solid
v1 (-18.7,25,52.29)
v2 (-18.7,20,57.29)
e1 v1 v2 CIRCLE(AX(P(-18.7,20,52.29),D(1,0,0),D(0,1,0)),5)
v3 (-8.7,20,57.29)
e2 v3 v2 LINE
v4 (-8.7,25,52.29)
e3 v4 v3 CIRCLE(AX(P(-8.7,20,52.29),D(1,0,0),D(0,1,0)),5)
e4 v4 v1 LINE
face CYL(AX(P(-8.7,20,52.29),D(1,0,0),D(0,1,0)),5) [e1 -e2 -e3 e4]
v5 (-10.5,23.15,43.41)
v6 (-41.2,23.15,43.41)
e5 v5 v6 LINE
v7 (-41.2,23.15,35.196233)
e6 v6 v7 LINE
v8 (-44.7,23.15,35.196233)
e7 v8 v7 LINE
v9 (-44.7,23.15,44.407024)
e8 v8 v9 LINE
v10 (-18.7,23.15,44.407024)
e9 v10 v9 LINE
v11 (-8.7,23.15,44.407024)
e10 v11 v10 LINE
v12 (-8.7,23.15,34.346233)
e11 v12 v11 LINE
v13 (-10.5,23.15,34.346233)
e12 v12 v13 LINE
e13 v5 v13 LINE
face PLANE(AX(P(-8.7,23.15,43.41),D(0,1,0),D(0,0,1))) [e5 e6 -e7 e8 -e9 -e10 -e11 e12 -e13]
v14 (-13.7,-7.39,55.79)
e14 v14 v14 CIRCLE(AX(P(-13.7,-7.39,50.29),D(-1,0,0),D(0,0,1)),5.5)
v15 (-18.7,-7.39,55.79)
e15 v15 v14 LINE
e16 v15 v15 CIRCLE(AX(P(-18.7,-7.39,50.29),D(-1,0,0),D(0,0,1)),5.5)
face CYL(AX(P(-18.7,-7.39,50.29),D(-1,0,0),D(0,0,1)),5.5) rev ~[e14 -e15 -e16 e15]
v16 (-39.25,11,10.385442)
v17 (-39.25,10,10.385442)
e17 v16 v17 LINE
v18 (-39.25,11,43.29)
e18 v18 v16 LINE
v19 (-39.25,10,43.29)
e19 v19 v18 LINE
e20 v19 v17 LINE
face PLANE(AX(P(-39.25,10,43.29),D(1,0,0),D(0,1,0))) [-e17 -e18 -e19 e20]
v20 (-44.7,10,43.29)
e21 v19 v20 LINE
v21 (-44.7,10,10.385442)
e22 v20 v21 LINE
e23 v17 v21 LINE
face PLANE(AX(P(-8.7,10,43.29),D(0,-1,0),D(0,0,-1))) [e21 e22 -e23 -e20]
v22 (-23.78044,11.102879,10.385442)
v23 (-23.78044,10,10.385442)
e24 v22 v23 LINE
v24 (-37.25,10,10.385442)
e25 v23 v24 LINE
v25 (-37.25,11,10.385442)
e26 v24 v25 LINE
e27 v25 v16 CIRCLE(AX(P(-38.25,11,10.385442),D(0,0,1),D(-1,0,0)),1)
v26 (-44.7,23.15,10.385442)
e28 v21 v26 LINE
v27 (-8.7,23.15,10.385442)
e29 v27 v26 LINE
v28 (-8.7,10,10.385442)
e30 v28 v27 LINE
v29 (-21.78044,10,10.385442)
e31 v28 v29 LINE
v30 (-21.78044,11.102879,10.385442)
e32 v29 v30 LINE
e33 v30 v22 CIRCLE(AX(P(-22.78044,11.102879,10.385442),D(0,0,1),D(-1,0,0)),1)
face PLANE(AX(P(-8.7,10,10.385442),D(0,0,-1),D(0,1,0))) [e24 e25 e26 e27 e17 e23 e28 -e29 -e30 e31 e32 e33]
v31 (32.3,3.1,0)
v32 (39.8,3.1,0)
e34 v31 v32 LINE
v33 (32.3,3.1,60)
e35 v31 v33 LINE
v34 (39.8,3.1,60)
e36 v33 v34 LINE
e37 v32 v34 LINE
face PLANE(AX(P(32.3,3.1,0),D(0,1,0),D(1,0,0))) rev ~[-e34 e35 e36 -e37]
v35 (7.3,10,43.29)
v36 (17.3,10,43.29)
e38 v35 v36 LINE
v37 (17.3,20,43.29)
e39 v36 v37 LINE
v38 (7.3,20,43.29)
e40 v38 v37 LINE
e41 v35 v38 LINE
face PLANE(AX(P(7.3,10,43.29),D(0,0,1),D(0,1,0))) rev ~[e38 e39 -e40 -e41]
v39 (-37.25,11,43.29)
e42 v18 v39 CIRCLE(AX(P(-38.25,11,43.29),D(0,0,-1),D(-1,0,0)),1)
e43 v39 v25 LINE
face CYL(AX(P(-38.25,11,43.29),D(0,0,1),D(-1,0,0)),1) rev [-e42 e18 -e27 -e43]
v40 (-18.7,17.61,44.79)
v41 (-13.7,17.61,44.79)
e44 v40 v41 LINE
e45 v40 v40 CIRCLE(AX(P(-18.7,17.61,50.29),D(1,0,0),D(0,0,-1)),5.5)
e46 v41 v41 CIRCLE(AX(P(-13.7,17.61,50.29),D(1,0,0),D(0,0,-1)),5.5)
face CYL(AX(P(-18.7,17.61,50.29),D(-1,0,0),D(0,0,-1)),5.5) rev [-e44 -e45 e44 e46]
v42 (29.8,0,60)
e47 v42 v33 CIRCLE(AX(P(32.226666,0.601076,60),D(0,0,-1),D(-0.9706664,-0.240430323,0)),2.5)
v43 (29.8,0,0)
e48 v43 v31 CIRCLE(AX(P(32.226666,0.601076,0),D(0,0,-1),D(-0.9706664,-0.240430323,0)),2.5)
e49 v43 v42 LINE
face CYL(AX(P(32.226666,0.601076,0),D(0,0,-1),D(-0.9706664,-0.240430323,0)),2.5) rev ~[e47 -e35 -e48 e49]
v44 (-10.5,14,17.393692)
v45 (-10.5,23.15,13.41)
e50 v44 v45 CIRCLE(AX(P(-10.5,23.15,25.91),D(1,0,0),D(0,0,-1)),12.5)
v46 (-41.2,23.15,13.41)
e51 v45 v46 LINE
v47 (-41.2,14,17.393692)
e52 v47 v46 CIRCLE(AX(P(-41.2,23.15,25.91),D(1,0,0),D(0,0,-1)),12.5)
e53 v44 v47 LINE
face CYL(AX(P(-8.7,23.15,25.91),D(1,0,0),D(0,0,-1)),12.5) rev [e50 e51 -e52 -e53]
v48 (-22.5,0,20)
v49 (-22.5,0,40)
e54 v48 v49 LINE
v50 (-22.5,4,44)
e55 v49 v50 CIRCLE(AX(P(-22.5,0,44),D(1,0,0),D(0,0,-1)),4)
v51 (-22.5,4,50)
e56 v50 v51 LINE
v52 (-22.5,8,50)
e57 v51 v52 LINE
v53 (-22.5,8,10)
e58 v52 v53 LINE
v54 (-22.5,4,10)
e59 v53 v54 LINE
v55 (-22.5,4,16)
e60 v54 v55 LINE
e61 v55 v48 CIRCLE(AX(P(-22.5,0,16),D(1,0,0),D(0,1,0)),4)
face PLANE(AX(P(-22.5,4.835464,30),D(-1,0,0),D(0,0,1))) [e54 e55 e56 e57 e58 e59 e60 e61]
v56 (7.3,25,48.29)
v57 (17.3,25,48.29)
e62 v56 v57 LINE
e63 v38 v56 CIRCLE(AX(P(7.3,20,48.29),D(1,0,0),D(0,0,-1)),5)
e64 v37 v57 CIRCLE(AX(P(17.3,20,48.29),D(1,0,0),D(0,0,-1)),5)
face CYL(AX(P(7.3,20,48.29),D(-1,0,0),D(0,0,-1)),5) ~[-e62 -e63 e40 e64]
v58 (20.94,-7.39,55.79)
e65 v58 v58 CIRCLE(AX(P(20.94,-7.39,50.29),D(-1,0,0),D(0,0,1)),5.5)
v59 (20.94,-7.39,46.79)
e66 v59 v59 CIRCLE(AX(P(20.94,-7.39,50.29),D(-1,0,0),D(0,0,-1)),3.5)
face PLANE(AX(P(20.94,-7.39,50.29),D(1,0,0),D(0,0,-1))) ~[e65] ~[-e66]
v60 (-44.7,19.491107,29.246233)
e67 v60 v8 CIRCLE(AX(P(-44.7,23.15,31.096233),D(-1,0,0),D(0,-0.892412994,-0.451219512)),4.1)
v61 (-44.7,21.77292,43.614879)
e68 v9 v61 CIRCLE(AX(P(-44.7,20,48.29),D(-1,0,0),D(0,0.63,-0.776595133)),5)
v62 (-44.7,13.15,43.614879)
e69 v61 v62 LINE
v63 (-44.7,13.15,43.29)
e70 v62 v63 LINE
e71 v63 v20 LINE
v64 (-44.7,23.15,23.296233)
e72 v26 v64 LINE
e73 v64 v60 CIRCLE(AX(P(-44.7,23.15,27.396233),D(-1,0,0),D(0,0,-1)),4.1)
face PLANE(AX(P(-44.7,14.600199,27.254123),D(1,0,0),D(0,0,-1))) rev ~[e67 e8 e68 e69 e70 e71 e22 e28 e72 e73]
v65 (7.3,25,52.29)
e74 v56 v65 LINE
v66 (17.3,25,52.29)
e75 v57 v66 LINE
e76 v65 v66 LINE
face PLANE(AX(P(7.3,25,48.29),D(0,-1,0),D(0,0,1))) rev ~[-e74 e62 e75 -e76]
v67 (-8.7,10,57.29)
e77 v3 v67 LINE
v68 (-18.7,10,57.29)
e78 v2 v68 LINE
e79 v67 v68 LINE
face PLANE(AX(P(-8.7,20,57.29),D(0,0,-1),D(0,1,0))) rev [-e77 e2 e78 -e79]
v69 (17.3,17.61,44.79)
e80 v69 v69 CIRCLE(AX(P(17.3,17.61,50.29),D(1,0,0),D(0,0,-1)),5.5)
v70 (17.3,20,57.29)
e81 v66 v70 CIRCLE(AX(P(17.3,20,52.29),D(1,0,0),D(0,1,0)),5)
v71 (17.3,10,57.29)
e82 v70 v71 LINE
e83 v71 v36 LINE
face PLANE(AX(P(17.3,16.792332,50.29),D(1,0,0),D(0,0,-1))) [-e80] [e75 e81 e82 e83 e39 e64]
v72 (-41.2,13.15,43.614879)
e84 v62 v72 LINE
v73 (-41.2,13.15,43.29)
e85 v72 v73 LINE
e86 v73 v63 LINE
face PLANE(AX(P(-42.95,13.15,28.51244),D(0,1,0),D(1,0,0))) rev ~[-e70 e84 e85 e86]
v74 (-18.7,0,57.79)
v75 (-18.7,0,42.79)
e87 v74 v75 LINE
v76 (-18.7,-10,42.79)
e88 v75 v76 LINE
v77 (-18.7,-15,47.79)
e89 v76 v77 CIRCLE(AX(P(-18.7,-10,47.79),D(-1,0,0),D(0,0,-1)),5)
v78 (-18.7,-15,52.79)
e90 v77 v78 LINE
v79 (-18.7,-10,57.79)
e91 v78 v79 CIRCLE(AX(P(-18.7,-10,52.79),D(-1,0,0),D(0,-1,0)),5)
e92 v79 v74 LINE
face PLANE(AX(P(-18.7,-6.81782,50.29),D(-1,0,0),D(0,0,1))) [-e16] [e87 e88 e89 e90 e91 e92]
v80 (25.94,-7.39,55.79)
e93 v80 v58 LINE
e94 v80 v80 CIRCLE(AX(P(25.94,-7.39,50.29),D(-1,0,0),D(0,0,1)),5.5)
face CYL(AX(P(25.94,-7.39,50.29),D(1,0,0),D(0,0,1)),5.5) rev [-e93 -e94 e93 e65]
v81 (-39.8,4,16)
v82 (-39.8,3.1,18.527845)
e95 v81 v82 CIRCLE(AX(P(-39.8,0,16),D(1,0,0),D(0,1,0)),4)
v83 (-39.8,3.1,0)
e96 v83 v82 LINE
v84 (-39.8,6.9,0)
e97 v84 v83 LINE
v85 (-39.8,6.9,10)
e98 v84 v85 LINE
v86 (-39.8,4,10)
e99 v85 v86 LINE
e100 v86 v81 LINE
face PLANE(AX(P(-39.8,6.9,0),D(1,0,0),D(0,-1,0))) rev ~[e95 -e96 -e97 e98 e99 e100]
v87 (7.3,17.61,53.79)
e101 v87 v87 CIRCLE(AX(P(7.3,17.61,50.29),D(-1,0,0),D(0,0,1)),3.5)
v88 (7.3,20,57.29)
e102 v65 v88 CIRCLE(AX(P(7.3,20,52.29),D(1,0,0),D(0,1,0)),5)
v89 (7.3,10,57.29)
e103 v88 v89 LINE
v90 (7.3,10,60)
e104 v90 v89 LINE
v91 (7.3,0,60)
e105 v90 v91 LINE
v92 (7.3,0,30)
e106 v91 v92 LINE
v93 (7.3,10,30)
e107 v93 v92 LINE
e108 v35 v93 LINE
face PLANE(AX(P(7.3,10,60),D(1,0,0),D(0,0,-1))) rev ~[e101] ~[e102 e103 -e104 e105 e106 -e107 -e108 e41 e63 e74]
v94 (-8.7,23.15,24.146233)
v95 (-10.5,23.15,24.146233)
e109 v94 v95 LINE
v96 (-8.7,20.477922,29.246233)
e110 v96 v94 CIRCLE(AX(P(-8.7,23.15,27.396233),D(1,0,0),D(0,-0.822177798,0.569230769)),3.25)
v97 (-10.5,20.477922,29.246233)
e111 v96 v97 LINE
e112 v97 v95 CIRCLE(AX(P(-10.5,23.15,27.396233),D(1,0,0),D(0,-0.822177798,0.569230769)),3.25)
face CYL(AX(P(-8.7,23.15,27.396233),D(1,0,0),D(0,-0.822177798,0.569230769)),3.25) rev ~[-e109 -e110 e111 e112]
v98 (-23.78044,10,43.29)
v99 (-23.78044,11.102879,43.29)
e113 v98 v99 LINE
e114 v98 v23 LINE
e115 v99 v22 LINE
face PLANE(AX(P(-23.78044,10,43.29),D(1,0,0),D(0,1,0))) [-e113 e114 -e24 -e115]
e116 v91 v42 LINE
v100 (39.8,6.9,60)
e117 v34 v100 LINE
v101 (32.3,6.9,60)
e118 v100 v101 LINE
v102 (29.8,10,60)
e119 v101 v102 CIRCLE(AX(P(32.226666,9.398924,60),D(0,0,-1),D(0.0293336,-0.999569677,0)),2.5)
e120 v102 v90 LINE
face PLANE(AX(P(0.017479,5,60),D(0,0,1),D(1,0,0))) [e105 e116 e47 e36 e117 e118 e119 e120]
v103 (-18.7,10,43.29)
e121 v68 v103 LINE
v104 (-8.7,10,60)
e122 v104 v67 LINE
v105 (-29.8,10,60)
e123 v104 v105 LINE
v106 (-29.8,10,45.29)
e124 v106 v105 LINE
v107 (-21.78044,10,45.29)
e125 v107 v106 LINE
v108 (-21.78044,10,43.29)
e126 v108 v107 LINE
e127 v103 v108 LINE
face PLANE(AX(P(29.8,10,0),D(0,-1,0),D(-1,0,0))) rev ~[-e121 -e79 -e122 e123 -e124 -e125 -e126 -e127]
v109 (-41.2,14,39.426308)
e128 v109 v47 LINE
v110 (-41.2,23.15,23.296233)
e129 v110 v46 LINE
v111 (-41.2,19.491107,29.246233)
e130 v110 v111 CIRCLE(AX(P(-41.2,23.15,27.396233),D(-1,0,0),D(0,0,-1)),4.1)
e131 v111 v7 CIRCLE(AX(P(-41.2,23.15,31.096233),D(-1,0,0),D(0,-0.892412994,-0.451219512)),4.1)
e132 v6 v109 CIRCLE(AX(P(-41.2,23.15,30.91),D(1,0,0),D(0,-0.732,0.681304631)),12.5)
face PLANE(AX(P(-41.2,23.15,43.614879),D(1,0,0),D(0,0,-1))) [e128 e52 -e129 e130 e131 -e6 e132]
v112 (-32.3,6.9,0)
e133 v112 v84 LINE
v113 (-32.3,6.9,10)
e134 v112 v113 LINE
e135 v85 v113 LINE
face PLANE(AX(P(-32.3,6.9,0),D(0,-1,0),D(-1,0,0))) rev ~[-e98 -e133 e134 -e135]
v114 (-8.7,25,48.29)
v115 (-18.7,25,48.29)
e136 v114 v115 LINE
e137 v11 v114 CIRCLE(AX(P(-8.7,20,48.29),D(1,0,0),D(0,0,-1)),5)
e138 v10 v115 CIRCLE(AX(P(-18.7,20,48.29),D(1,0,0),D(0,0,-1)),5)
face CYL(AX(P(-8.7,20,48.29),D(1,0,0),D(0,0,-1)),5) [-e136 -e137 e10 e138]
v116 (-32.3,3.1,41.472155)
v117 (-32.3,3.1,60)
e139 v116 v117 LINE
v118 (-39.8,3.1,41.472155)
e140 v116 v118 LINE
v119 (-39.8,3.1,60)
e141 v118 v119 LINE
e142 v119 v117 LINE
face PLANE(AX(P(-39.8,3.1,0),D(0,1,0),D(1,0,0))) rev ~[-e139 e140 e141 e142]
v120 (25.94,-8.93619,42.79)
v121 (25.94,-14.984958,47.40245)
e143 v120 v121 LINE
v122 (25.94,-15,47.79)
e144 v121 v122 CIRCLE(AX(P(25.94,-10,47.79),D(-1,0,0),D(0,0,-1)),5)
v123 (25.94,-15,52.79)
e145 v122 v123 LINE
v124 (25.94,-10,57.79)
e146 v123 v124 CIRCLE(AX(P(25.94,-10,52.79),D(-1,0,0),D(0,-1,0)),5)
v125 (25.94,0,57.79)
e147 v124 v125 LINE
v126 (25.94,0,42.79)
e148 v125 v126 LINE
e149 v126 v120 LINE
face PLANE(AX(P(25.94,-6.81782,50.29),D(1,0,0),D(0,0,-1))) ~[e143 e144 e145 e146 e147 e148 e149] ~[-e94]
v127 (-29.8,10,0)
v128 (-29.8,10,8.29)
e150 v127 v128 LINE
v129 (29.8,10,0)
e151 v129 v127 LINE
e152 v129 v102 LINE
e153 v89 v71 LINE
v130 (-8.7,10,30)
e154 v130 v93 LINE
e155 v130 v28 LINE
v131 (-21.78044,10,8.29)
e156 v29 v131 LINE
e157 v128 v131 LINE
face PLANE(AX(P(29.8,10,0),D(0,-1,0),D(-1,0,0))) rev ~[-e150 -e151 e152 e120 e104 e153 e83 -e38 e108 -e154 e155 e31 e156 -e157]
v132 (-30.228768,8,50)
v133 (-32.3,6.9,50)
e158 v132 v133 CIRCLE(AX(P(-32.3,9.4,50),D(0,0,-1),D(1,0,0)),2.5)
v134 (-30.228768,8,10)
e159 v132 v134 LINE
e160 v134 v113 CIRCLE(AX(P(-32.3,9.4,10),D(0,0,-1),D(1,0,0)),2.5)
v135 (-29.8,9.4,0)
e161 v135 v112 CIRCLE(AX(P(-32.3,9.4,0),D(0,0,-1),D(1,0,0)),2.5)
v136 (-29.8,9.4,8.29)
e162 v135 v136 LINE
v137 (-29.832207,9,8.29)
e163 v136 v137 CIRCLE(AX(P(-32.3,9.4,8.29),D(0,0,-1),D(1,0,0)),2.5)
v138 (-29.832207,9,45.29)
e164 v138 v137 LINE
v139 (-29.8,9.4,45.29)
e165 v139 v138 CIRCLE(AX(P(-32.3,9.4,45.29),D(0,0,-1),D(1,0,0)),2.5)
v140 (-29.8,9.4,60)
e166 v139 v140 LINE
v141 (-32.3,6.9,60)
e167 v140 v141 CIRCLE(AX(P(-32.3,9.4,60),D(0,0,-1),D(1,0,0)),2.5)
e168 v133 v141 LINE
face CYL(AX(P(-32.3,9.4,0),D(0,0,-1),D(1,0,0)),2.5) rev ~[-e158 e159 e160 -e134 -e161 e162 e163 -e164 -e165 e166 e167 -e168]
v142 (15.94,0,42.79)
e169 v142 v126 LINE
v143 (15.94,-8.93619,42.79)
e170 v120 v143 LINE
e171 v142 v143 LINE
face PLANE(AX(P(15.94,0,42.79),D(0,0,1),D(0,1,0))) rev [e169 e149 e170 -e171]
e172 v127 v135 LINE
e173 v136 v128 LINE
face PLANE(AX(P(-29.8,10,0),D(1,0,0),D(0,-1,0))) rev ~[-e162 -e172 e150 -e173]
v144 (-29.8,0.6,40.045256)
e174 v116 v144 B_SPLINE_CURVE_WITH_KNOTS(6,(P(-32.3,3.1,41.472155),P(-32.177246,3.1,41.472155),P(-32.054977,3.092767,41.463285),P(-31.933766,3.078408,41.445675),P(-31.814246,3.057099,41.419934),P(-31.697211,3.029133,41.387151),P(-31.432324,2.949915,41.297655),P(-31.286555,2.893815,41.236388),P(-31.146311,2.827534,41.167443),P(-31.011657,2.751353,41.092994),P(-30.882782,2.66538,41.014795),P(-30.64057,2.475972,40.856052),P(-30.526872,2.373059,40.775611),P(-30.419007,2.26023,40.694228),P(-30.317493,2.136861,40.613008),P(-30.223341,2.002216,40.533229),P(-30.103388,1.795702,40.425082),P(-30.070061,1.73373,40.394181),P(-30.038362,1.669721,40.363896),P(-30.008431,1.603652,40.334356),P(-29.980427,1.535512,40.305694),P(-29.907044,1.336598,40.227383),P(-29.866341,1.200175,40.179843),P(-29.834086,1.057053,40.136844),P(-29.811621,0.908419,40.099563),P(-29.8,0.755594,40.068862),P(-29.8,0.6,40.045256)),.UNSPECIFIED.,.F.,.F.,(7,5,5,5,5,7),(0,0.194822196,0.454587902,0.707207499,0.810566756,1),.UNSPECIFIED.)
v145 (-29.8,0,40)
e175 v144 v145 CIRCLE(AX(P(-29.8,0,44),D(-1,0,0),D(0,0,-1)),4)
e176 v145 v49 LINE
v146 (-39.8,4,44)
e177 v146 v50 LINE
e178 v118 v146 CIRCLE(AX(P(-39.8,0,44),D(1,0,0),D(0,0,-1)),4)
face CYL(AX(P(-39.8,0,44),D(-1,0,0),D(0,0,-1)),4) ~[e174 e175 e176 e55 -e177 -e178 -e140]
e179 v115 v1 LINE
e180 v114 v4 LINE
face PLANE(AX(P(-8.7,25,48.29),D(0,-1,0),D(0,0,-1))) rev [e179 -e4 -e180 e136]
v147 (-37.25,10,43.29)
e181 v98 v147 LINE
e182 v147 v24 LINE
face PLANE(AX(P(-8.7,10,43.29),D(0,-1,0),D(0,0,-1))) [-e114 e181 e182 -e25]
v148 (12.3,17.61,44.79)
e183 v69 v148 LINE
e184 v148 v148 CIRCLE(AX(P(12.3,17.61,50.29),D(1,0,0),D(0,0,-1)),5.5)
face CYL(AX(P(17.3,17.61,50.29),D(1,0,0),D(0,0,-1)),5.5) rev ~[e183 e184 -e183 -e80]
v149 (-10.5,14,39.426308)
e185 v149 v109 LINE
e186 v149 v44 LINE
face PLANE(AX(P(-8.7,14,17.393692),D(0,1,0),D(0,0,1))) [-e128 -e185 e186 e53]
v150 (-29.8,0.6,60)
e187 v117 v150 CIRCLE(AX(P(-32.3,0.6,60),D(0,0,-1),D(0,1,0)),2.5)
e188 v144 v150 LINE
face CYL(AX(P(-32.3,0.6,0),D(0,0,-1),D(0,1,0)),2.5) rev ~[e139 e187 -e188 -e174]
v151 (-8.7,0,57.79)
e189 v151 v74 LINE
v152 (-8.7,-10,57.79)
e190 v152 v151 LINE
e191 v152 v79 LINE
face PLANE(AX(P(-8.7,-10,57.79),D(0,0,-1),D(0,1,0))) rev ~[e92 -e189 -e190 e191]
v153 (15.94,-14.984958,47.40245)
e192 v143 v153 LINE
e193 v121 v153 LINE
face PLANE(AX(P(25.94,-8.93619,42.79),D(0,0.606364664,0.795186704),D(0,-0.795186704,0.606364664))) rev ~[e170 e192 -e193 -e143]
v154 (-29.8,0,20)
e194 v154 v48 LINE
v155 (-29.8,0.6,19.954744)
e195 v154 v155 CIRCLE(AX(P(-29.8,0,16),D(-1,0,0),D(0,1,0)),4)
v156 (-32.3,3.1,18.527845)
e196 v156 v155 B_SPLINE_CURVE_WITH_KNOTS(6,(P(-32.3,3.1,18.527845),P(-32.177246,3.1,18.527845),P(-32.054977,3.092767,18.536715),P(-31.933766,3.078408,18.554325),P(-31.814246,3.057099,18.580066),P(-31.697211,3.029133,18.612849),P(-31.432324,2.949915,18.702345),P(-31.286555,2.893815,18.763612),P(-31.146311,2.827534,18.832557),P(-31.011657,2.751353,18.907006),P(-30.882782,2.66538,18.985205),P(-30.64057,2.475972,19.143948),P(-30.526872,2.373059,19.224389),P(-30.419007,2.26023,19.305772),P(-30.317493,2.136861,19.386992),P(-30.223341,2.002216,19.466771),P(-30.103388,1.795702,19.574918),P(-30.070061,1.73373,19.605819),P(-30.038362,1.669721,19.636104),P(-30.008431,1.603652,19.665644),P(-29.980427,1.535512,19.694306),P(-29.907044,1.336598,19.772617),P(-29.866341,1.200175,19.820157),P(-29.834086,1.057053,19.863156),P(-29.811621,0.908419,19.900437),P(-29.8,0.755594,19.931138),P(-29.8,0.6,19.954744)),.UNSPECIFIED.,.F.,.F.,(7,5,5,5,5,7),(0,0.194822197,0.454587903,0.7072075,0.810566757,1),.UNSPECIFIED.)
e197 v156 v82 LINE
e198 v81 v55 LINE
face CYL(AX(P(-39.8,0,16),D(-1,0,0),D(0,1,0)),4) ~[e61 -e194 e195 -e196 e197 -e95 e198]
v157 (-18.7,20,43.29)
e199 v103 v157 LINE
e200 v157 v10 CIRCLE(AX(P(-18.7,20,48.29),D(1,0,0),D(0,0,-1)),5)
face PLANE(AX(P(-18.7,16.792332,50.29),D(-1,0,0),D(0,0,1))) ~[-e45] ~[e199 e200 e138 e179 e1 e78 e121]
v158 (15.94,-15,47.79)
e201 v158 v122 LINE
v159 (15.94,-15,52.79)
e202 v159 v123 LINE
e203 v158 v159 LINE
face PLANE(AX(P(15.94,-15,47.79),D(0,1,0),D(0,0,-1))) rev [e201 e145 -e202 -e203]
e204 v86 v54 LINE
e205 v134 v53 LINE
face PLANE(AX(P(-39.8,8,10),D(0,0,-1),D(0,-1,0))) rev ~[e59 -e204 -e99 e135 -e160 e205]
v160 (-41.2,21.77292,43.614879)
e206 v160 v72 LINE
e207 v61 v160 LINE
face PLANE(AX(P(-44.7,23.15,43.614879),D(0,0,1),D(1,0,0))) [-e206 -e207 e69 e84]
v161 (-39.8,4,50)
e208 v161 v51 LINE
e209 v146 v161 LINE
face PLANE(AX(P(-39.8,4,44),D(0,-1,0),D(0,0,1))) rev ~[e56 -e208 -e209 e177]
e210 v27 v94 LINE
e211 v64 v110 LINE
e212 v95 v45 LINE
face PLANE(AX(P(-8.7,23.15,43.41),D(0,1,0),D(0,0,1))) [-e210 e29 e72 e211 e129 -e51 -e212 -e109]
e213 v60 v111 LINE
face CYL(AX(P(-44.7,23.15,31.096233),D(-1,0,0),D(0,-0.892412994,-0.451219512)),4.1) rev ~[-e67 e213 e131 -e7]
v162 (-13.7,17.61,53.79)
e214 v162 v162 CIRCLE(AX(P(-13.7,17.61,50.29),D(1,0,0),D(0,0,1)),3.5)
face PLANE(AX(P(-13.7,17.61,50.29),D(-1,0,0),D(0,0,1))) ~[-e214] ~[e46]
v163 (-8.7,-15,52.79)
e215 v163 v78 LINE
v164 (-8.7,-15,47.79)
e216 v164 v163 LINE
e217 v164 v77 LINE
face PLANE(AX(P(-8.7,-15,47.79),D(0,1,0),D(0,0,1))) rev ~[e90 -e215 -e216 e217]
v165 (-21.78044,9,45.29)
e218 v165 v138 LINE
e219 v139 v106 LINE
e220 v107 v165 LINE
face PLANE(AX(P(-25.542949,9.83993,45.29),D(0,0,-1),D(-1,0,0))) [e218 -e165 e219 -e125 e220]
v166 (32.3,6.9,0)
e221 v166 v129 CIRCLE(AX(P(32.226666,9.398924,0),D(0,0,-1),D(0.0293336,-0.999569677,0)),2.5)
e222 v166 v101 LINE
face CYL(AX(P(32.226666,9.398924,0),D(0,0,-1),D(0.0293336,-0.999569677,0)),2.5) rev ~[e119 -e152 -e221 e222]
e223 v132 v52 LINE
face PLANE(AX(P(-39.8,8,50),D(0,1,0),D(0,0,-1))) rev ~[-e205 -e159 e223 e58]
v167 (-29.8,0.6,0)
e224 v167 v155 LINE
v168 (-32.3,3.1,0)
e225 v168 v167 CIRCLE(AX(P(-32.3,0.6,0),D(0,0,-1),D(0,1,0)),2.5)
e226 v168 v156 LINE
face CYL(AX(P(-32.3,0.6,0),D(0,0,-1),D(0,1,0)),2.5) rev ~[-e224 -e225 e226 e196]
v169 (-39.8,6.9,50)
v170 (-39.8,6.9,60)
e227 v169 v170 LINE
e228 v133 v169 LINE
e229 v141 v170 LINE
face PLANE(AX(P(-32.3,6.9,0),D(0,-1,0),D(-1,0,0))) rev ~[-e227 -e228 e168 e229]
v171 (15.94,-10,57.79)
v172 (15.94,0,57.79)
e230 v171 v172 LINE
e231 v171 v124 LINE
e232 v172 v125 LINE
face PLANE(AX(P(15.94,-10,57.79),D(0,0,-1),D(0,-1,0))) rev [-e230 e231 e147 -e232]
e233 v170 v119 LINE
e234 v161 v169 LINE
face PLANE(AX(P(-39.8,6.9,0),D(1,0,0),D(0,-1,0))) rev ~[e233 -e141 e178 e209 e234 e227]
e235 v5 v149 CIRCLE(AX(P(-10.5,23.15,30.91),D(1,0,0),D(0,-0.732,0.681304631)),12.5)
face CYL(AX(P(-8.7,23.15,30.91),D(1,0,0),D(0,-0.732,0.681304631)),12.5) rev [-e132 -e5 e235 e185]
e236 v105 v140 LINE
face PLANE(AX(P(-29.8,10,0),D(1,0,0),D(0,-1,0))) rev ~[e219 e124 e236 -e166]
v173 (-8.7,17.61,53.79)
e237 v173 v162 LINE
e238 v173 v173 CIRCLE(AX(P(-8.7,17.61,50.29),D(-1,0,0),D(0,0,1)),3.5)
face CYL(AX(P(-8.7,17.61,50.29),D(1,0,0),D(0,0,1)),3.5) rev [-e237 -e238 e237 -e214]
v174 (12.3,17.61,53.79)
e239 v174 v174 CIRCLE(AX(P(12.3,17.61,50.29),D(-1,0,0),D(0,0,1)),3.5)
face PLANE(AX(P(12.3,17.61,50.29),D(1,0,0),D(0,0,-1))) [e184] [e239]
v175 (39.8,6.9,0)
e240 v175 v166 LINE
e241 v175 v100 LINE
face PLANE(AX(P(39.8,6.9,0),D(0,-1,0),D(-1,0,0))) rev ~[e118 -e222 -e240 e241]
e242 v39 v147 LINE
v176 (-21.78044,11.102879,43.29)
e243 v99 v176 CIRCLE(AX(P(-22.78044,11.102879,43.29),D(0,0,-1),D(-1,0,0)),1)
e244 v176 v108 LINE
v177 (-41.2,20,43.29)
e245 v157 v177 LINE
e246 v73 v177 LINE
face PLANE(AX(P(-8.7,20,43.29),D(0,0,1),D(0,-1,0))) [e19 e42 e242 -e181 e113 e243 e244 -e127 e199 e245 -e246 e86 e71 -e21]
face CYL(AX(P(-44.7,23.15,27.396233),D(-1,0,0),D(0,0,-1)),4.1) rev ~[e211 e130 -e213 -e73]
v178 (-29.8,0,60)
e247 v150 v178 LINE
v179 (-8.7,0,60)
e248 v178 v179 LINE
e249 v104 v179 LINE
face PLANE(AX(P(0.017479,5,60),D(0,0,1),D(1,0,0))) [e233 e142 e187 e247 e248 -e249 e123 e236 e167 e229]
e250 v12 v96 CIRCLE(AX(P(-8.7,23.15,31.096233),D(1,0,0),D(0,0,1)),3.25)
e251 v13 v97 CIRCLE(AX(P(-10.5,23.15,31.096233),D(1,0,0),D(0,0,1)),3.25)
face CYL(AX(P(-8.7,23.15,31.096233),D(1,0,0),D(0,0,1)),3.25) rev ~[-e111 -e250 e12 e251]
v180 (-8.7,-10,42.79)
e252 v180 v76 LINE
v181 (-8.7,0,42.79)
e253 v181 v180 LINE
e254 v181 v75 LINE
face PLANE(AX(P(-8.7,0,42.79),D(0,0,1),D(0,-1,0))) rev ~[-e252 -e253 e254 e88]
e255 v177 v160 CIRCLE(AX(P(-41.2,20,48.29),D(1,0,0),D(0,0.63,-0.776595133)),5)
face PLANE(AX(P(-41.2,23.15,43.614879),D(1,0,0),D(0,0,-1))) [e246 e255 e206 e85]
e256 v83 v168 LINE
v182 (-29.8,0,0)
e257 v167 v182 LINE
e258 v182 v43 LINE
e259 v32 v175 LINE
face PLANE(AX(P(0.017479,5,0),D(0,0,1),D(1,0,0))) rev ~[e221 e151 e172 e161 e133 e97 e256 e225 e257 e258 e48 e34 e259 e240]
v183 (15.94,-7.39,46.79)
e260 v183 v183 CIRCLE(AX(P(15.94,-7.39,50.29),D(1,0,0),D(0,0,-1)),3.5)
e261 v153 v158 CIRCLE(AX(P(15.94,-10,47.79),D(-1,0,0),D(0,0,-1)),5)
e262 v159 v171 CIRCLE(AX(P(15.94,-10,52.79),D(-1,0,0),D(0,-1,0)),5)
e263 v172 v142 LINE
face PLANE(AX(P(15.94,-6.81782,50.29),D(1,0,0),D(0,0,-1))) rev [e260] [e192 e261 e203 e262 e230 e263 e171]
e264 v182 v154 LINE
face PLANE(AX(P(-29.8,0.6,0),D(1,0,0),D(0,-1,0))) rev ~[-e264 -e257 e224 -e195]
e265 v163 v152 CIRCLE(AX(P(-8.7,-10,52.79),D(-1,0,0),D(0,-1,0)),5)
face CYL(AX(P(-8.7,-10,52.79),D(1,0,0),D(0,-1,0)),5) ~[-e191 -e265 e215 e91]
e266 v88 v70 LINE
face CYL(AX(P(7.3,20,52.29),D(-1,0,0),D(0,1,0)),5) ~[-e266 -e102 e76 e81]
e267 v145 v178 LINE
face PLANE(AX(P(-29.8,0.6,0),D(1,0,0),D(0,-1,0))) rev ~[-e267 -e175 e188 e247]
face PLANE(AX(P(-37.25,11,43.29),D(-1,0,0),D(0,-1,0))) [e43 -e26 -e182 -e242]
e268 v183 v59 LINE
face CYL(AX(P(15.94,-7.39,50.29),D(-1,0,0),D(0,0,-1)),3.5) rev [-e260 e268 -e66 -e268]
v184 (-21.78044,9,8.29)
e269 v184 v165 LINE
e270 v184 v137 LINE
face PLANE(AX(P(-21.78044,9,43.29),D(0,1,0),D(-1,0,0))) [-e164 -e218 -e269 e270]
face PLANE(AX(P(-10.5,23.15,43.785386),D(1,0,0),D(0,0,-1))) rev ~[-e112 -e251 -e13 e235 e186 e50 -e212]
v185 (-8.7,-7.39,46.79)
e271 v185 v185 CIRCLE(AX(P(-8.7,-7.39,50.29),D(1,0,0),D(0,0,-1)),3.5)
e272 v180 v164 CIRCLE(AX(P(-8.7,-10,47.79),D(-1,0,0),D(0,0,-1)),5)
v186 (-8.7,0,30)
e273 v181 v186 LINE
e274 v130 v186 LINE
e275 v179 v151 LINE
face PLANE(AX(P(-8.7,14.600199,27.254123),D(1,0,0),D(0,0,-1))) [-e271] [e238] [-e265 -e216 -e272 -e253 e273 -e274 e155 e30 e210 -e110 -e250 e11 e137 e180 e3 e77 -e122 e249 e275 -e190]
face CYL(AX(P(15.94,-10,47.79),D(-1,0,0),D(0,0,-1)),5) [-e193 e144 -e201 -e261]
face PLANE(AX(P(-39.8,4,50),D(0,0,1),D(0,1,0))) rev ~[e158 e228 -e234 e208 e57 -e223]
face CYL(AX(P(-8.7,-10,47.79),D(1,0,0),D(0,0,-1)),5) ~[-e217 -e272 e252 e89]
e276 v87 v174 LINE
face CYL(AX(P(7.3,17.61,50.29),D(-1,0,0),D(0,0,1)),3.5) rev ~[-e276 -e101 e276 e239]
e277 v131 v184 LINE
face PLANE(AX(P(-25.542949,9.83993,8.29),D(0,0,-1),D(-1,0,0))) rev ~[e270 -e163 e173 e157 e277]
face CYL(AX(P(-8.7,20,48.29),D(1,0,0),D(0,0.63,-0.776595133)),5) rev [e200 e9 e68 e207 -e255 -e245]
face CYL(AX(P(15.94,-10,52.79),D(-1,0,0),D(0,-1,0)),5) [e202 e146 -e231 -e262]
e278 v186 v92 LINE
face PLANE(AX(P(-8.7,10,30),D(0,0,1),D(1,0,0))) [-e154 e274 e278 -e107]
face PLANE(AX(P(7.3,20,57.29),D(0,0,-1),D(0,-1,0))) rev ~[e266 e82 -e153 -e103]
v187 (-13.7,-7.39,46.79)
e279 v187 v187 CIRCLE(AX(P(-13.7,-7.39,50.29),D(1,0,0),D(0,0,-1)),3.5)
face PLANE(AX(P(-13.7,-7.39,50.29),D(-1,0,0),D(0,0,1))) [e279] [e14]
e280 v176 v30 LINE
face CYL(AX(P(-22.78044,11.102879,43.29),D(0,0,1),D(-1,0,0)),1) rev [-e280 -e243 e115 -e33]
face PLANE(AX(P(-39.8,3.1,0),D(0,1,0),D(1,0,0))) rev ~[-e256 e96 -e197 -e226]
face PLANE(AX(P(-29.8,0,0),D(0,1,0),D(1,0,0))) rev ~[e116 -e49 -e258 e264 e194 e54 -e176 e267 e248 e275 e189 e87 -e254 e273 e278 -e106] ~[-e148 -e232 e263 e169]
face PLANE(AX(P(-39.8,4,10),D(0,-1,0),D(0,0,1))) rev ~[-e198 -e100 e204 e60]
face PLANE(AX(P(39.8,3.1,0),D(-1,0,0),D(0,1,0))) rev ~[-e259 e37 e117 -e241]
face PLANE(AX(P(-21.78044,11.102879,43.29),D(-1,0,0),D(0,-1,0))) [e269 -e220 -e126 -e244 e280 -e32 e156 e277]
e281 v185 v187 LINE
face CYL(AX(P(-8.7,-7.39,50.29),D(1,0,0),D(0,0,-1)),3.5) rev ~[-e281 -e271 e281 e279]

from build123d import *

# Parameters (mm, degrees)
EXTRUDE_1_DEPTH          = 60
CUT_EXTRUDE_1_DEPTH      = 17.3
SKETCH1_W                = 16
SKETCH1_H                = 30
CUT_EXTRUDE1_DEPTH       = 10
SKETCH2_R                = 3.5
BOSS_EXTRUDE1_DEPTH      = 10
SKETCH4_R                = 5.5
CUT_EXTRUDE4_DEPTH       = 5
SKETCH5_R                = 3.5
BOSS_EXTRUDE2_DEPTH      = 10
SKETCH6_R                = 5.5
CUT_EXTRUDE5_DEPTH       = 5
BOSS_EXTRUDE4_DEPTH      = 36
SKETCH8_W                = 1.8
SKETCH8_H                = 30.375385669
SKETCH8_W_2              = 3.5
SKETCH8_H_2              = 30.204879213
BOSS_EXTRUDE5_DEPTH      = 10
CUT_EXTRUDE6_DEPTH       = 10
CUT_EXTRUDE7_DEPTH       = 10
CUT_EXTRUDE8_DEPTH       = 68.060525711
CUT_EXTRUDE9_DEPTH       = 10
CUT_EXTRUDE10_DEPTH      = 2
CUT_EXTRUDE10_DEPTH_BACK = 35


with BuildPart() as part:
    # 스케치1 → 보스-돌출1 (new body)
    with BuildSketch(Plane.XY):
        with BuildLine():
            Line((29.8, 10), (-29.8, 10))
            Line((-29.8, 10), (-29.8, 9.4))
            ThreePointArc((-29.8, 9.4), (-30.532233047, 7.632233047), (-32.3, 6.9))
            Line((-32.3, 6.9), (-39.8, 6.9))
            Line((-39.8, 6.9), (-39.8, 3.1))
            Line((-39.8, 3.1), (-32.3, 3.1))
            ThreePointArc((-32.3, 3.1), (-30.532233047, 2.367766953), (-29.8, 0.6))
            Line((-29.8, 0.6), (-29.8, 0))
            Line((-29.8, 0), (29.8, 0))
            ThreePointArc((29.8, 0), (30.280633401, 2.170456935), (32.3, 3.1))
            Line((32.3, 3.1), (39.8, 3.1))
            Line((39.8, 3.1), (39.8, 6.9))
            Line((39.8, 6.9), (32.3, 6.9))
            ThreePointArc((32.3, 6.9), (30.280633401, 7.829543065), (29.8, 10))
        make_face()
    extrude(amount=EXTRUDE_1_DEPTH)

    # 스케치2 → 컷-돌출1 (cut)
    with BuildSketch(Plane.ZY.offset(39.8)):
        with BuildLine():
            Line((44, 4), (50, 4))
            Line((50, 4), (50, 8))
            Line((50, 8), (10, 8))
            Line((10, 8), (10, 4))
            Line((10, 4), (16, 4))
            ThreePointArc((16, 4), (18.828427125, 2.828427125), (20, 0))
            Line((20, 0), (40, 0))
            ThreePointArc((40, 0), (41.171572875, 2.828427125), (44, 4))
        make_face()
    extrude(amount=-CUT_EXTRUDE_1_DEPTH, mode=Mode.SUBTRACT)

    # Sketch1 → Cut-Extrude1 (cut)
    with BuildSketch(Plane(origin=(0, 10, 0), x_dir=(1, 0, 0), z_dir=(0, 1, 0))):
        with Locations((-0.7, -45)):
            Rectangle(SKETCH1_W, SKETCH1_H)
    extrude(amount=-CUT_EXTRUDE1_DEPTH, mode=Mode.SUBTRACT)

    # Sketch2 → Boss-Extrude1 (add)
    with BuildSketch(Plane.ZY.offset(-7.3)):
        with BuildLine():
            Line((57.29, 10), (43.29, 10))
            Line((43.29, 10), (43.29, 20))
            ThreePointArc((43.29, 20), (44.754466094, 23.535533906), (48.29, 25))
            Line((48.29, 25), (52.29, 25))
            ThreePointArc((52.29, 25), (55.825533906, 23.535533906), (57.29, 20))
            Line((57.29, 20), (57.29, 10))
        make_face()
        with Locations((50.29, 17.61)):
            Circle(SKETCH2_R, mode=Mode.SUBTRACT)
    boss_extrude1 = extrude(amount=-BOSS_EXTRUDE1_DEPTH)

    # Sketch4 → Cut-Extrude4 (cut)
    with BuildSketch(Plane(origin=(17.3, 0, 0), x_dir=(0, 0, -1), z_dir=(1, 0, 0))):
        with Locations((-50.29, 17.61)):
            Circle(SKETCH4_R)
    cut_extrude4 = extrude(amount=-CUT_EXTRUDE4_DEPTH, mode=Mode.SUBTRACT)

    # Mirror1: Boss-Extrude1, Cut-Extrude4 across plane
    add(boss_extrude1.mirror(Plane.ZY.offset(0.7)))
    add(cut_extrude4.mirror(Plane.ZY.offset(0.7)), mode=Mode.SUBTRACT)

    # Sketch5 → Boss-Extrude2 (add)
    with BuildSketch(Plane(origin=(-8.7, 0, 0), x_dir=(0, 0, -1), z_dir=(1, 0, 0))):
        with BuildLine():
            Line((-57.79, 0), (-42.79, 0))
            Line((-42.79, 0), (-42.79, -10))
            ThreePointArc((-42.79, -10), (-44.254466094, -13.535533906), (-47.79, -15))
            Line((-47.79, -15), (-52.79, -15))
            ThreePointArc((-52.79, -15), (-56.325533906, -13.535533906), (-57.79, -10))
            Line((-57.79, -10), (-57.79, 0))
        make_face()
        with Locations((-50.29, -7.39000045)):
            Circle(SKETCH5_R, mode=Mode.SUBTRACT)
    boss_extrude2 = extrude(amount=-BOSS_EXTRUDE2_DEPTH)

    # Sketch6 → Cut-Extrude5 (cut)
    with BuildSketch(Plane.ZY.offset(18.7)):
        with Locations((50.29, -7.39000045)):
            Circle(SKETCH6_R)
    cut_extrude5 = extrude(amount=-CUT_EXTRUDE5_DEPTH, mode=Mode.SUBTRACT)

    # Mirror2: Boss-Extrude2, Cut-Extrude5 across plane
    add(boss_extrude2.mirror(Plane(origin=(3.62, 0, 0), x_dir=(0, 0, 1), z_dir=(1, 0, 0))))
    add(cut_extrude5.mirror(Plane(origin=(3.62, 0, 0), x_dir=(0, 0, 1), z_dir=(1, 0, 0))), mode=Mode.SUBTRACT)

    # Sketch7 → Boss-Extrude4 (add)
    with BuildSketch(Plane(origin=(-8.7, 0, 0), x_dir=(0, 0, -1), z_dir=(1, 0, 0))):
        with BuildLine():
            Line((-17.393692115, 14), (-39.426307885, 14))
            ThreePointArc((-39.426307885, 14), (-42.370886715, 18.160202838), (-43.41, 23.15))
            Line((-43.41, 23.15), (-44.407024337, 23.15))
            ThreePointArc((-44.407024337, 23.15), (-43.577523034, 21.671095701), (-43.29, 20))
            Line((-43.29, 20), (-43.29, 10))
            Line((-43.29, 10), (-30, 10))
            Line((-30, 10), (-10.385441698, 10))
            Line((-10.385441698, 10), (-10.385441698, 23.15))
            Line((-10.385441698, 23.15), (-13.41, 23.15))
            ThreePointArc((-13.41, 23.15), (-14.449113285, 18.160202838), (-17.393692115, 14))
        make_face()
    extrude(amount=-BOSS_EXTRUDE4_DEPTH)

    # Sketch8 → Boss-Extrude5 (add)
    with BuildSketch(Plane(origin=(0, 23.15, 0), x_dir=(1, 0, 0), z_dir=(0, 1, 0))):
        with Locations((-9.6, -28.597692835)):
            Rectangle(SKETCH8_W, SKETCH8_H)
        with Locations((-42.95, -28.512439607)):
            Rectangle(SKETCH8_W_2, SKETCH8_H_2)
    extrude(amount=-BOSS_EXTRUDE5_DEPTH)

    # Sketch9 → Cut-Extrude6 (cut)
    with BuildSketch(Plane(origin=(-8.7, 0, 0), x_dir=(0, 0, -1), z_dir=(1, 0, 0))):
        with BuildLine():
            Line((-27.846233017, 23.15), (-24.146233017, 23.15))
            ThreePointArc((-24.146233017, 23.15), (-25.887922704, 26.028801834), (-29.246233017, 25.822077843))
            ThreePointArc((-29.246233017, 25.822077843), (-28.217431183, 24.658310313), (-27.846233017, 23.15))
        make_face()
        with BuildLine():
            ThreePointArc((-29.246233017, 20.477922157), (-25.887922704, 20.271198166), (-24.146233017, 23.15))
            Line((-24.146233017, 23.15), (-27.846233017, 23.15))
            ThreePointArc((-27.846233017, 23.15), (-28.217431183, 21.641689687), (-29.246233017, 20.477922157))
        make_face()
        with BuildLine():
            ThreePointArc((-27.846233017, 23.15), (-28.217431183, 24.658310313), (-29.246233017, 25.822077843))
            ThreePointArc((-29.246233017, 25.822077843), (-30.275034851, 24.658310313), (-30.646233017, 23.15))
            Line((-30.646233017, 23.15), (-27.846233017, 23.15))
        make_face()
        with BuildLine():
            ThreePointArc((-30.646233017, 23.15), (-30.275034851, 24.658310313), (-29.246233017, 25.822077843))
            ThreePointArc((-29.246233017, 25.822077843), (-32.60454333, 26.028801834), (-34.346233017, 23.15))
            Line((-34.346233017, 23.15), (-30.646233017, 23.15))
        make_face()
        with BuildLine():
            ThreePointArc((-34.346233017, 23.15), (-32.60454333, 20.271198166), (-29.246233017, 20.477922157))
            ThreePointArc((-29.246233017, 20.477922157), (-30.275034851, 21.641689687), (-30.646233017, 23.15))
            Line((-30.646233017, 23.15), (-34.346233017, 23.15))
        make_face()
        with BuildLine():
            ThreePointArc((-30.646233017, 23.15), (-30.275034851, 21.641689687), (-29.246233017, 20.477922157))
            ThreePointArc((-29.246233017, 20.477922157), (-28.217431183, 21.641689687), (-27.846233017, 23.15))
            Line((-27.846233017, 23.15), (-30.646233017, 23.15))
        make_face()
    extrude(amount=-CUT_EXTRUDE6_DEPTH, mode=Mode.SUBTRACT)

    # Sketch10 → Cut-Extrude7 (cut)
    with BuildSketch(Plane.ZY.offset(44.7)):
        with BuildLine():
            Line((26.996233017, 23.15), (31.496233017, 23.15))
            ThreePointArc((31.496233017, 23.15), (30.888724964, 25.297673159), (29.246233017, 26.808893275))
            ThreePointArc((29.246233017, 26.808893275), (27.60374107, 25.297673159), (26.996233017, 23.15))
        make_face()
        with BuildLine():
            Line((35.196233017, 23.15), (31.496233017, 23.15))
            ThreePointArc((31.496233017, 23.15), (30.888724964, 21.002326841), (29.246233017, 19.491106725))
            ThreePointArc((29.246233017, 19.491106725), (33.243906177, 19.657508053), (35.196233017, 23.15))
        make_face()
        with BuildLine():
            ThreePointArc((29.246233017, 26.808893275), (30.888724964, 25.297673159), (31.496233017, 23.15))
            Line((31.496233017, 23.15), (35.196233017, 23.15))
            ThreePointArc((35.196233017, 23.15), (33.243906177, 26.642491947), (29.246233017, 26.808893275))
        make_face()
        with BuildLine():
            ThreePointArc((29.246233017, 19.491106725), (30.888724964, 21.002326841), (31.496233017, 23.15))
            Line((31.496233017, 23.15), (26.996233017, 23.15))
            ThreePointArc((26.996233017, 23.15), (27.60374107, 21.002326841), (29.246233017, 19.491106725))
        make_face()
        with BuildLine():
            ThreePointArc((26.996233017, 23.15), (27.60374107, 25.297673159), (29.246233017, 26.808893275))
            ThreePointArc((29.246233017, 26.808893275), (25.248559858, 26.642491947), (23.296233017, 23.15))
            Line((23.296233017, 23.15), (26.996233017, 23.15))
        make_face()
        with BuildLine():
            ThreePointArc((23.296233017, 23.15), (25.248559858, 19.657508053), (29.246233017, 19.491106725))
            ThreePointArc((29.246233017, 19.491106725), (27.60374107, 21.002326841), (26.996233017, 23.15))
            Line((26.996233017, 23.15), (23.296233017, 23.15))
        make_face()
    extrude(amount=-CUT_EXTRUDE7_DEPTH, mode=Mode.SUBTRACT)

    # Sketch11 → Cut-Extrude8 (cut, through all)
    with BuildSketch(Plane.XY.offset(43.29)):
        with BuildLine():
            Line((-39.25, 10), (-39.25, 11))
            ThreePointArc((-39.25, 11), (-38.25, 12), (-37.25, 11))
            Line((-37.25, 11), (-37.25, 10))
            Line((-37.25, 10), (-39.25, 10))
        make_face()
    extrude(amount=-CUT_EXTRUDE8_DEPTH, mode=Mode.SUBTRACT)

    # Sketch12 → Cut-Extrude9 (cut)
    with BuildSketch(Plane(origin=(25.94, 0, 0), x_dir=(0, 0, -1), z_dir=(1, 0, 0))):
        Polygon((-42.79, -8.93619037), (-47.402449947, -14.984957869), (-43.167493301, -15.543555396), (-40.889176965, -10), align=None)
    extrude(amount=-CUT_EXTRUDE9_DEPTH, mode=Mode.SUBTRACT)

    # Sketch13 → Cut-Extrude10 (cut, two sides)
    with BuildSketch(Plane.XY.offset(43.29)) as cut_extrude10_sk:
        with BuildLine():
            Line((-29.8, 10), (-23.780440028, 10))
            Line((-23.780440028, 10), (-23.780440028, 11.102878987))
            ThreePointArc((-23.780440028, 11.102878987), (-22.780440028, 12.102878987), (-21.780440028, 11.102878987))
            Line((-21.780440028, 11.102878987), (-21.780440028, 9))
            Line((-21.780440028, 9), (-30.475963693, 9))
            Line((-30.475963693, 9), (-29.8, 10))
        make_face()
    extrude(amount=CUT_EXTRUDE10_DEPTH, mode=Mode.SUBTRACT)
    extrude(cut_extrude10_sk.sketch, amount=-CUT_EXTRUDE10_DEPTH_BACK, mode=Mode.SUBTRACT)


solid = part.part
